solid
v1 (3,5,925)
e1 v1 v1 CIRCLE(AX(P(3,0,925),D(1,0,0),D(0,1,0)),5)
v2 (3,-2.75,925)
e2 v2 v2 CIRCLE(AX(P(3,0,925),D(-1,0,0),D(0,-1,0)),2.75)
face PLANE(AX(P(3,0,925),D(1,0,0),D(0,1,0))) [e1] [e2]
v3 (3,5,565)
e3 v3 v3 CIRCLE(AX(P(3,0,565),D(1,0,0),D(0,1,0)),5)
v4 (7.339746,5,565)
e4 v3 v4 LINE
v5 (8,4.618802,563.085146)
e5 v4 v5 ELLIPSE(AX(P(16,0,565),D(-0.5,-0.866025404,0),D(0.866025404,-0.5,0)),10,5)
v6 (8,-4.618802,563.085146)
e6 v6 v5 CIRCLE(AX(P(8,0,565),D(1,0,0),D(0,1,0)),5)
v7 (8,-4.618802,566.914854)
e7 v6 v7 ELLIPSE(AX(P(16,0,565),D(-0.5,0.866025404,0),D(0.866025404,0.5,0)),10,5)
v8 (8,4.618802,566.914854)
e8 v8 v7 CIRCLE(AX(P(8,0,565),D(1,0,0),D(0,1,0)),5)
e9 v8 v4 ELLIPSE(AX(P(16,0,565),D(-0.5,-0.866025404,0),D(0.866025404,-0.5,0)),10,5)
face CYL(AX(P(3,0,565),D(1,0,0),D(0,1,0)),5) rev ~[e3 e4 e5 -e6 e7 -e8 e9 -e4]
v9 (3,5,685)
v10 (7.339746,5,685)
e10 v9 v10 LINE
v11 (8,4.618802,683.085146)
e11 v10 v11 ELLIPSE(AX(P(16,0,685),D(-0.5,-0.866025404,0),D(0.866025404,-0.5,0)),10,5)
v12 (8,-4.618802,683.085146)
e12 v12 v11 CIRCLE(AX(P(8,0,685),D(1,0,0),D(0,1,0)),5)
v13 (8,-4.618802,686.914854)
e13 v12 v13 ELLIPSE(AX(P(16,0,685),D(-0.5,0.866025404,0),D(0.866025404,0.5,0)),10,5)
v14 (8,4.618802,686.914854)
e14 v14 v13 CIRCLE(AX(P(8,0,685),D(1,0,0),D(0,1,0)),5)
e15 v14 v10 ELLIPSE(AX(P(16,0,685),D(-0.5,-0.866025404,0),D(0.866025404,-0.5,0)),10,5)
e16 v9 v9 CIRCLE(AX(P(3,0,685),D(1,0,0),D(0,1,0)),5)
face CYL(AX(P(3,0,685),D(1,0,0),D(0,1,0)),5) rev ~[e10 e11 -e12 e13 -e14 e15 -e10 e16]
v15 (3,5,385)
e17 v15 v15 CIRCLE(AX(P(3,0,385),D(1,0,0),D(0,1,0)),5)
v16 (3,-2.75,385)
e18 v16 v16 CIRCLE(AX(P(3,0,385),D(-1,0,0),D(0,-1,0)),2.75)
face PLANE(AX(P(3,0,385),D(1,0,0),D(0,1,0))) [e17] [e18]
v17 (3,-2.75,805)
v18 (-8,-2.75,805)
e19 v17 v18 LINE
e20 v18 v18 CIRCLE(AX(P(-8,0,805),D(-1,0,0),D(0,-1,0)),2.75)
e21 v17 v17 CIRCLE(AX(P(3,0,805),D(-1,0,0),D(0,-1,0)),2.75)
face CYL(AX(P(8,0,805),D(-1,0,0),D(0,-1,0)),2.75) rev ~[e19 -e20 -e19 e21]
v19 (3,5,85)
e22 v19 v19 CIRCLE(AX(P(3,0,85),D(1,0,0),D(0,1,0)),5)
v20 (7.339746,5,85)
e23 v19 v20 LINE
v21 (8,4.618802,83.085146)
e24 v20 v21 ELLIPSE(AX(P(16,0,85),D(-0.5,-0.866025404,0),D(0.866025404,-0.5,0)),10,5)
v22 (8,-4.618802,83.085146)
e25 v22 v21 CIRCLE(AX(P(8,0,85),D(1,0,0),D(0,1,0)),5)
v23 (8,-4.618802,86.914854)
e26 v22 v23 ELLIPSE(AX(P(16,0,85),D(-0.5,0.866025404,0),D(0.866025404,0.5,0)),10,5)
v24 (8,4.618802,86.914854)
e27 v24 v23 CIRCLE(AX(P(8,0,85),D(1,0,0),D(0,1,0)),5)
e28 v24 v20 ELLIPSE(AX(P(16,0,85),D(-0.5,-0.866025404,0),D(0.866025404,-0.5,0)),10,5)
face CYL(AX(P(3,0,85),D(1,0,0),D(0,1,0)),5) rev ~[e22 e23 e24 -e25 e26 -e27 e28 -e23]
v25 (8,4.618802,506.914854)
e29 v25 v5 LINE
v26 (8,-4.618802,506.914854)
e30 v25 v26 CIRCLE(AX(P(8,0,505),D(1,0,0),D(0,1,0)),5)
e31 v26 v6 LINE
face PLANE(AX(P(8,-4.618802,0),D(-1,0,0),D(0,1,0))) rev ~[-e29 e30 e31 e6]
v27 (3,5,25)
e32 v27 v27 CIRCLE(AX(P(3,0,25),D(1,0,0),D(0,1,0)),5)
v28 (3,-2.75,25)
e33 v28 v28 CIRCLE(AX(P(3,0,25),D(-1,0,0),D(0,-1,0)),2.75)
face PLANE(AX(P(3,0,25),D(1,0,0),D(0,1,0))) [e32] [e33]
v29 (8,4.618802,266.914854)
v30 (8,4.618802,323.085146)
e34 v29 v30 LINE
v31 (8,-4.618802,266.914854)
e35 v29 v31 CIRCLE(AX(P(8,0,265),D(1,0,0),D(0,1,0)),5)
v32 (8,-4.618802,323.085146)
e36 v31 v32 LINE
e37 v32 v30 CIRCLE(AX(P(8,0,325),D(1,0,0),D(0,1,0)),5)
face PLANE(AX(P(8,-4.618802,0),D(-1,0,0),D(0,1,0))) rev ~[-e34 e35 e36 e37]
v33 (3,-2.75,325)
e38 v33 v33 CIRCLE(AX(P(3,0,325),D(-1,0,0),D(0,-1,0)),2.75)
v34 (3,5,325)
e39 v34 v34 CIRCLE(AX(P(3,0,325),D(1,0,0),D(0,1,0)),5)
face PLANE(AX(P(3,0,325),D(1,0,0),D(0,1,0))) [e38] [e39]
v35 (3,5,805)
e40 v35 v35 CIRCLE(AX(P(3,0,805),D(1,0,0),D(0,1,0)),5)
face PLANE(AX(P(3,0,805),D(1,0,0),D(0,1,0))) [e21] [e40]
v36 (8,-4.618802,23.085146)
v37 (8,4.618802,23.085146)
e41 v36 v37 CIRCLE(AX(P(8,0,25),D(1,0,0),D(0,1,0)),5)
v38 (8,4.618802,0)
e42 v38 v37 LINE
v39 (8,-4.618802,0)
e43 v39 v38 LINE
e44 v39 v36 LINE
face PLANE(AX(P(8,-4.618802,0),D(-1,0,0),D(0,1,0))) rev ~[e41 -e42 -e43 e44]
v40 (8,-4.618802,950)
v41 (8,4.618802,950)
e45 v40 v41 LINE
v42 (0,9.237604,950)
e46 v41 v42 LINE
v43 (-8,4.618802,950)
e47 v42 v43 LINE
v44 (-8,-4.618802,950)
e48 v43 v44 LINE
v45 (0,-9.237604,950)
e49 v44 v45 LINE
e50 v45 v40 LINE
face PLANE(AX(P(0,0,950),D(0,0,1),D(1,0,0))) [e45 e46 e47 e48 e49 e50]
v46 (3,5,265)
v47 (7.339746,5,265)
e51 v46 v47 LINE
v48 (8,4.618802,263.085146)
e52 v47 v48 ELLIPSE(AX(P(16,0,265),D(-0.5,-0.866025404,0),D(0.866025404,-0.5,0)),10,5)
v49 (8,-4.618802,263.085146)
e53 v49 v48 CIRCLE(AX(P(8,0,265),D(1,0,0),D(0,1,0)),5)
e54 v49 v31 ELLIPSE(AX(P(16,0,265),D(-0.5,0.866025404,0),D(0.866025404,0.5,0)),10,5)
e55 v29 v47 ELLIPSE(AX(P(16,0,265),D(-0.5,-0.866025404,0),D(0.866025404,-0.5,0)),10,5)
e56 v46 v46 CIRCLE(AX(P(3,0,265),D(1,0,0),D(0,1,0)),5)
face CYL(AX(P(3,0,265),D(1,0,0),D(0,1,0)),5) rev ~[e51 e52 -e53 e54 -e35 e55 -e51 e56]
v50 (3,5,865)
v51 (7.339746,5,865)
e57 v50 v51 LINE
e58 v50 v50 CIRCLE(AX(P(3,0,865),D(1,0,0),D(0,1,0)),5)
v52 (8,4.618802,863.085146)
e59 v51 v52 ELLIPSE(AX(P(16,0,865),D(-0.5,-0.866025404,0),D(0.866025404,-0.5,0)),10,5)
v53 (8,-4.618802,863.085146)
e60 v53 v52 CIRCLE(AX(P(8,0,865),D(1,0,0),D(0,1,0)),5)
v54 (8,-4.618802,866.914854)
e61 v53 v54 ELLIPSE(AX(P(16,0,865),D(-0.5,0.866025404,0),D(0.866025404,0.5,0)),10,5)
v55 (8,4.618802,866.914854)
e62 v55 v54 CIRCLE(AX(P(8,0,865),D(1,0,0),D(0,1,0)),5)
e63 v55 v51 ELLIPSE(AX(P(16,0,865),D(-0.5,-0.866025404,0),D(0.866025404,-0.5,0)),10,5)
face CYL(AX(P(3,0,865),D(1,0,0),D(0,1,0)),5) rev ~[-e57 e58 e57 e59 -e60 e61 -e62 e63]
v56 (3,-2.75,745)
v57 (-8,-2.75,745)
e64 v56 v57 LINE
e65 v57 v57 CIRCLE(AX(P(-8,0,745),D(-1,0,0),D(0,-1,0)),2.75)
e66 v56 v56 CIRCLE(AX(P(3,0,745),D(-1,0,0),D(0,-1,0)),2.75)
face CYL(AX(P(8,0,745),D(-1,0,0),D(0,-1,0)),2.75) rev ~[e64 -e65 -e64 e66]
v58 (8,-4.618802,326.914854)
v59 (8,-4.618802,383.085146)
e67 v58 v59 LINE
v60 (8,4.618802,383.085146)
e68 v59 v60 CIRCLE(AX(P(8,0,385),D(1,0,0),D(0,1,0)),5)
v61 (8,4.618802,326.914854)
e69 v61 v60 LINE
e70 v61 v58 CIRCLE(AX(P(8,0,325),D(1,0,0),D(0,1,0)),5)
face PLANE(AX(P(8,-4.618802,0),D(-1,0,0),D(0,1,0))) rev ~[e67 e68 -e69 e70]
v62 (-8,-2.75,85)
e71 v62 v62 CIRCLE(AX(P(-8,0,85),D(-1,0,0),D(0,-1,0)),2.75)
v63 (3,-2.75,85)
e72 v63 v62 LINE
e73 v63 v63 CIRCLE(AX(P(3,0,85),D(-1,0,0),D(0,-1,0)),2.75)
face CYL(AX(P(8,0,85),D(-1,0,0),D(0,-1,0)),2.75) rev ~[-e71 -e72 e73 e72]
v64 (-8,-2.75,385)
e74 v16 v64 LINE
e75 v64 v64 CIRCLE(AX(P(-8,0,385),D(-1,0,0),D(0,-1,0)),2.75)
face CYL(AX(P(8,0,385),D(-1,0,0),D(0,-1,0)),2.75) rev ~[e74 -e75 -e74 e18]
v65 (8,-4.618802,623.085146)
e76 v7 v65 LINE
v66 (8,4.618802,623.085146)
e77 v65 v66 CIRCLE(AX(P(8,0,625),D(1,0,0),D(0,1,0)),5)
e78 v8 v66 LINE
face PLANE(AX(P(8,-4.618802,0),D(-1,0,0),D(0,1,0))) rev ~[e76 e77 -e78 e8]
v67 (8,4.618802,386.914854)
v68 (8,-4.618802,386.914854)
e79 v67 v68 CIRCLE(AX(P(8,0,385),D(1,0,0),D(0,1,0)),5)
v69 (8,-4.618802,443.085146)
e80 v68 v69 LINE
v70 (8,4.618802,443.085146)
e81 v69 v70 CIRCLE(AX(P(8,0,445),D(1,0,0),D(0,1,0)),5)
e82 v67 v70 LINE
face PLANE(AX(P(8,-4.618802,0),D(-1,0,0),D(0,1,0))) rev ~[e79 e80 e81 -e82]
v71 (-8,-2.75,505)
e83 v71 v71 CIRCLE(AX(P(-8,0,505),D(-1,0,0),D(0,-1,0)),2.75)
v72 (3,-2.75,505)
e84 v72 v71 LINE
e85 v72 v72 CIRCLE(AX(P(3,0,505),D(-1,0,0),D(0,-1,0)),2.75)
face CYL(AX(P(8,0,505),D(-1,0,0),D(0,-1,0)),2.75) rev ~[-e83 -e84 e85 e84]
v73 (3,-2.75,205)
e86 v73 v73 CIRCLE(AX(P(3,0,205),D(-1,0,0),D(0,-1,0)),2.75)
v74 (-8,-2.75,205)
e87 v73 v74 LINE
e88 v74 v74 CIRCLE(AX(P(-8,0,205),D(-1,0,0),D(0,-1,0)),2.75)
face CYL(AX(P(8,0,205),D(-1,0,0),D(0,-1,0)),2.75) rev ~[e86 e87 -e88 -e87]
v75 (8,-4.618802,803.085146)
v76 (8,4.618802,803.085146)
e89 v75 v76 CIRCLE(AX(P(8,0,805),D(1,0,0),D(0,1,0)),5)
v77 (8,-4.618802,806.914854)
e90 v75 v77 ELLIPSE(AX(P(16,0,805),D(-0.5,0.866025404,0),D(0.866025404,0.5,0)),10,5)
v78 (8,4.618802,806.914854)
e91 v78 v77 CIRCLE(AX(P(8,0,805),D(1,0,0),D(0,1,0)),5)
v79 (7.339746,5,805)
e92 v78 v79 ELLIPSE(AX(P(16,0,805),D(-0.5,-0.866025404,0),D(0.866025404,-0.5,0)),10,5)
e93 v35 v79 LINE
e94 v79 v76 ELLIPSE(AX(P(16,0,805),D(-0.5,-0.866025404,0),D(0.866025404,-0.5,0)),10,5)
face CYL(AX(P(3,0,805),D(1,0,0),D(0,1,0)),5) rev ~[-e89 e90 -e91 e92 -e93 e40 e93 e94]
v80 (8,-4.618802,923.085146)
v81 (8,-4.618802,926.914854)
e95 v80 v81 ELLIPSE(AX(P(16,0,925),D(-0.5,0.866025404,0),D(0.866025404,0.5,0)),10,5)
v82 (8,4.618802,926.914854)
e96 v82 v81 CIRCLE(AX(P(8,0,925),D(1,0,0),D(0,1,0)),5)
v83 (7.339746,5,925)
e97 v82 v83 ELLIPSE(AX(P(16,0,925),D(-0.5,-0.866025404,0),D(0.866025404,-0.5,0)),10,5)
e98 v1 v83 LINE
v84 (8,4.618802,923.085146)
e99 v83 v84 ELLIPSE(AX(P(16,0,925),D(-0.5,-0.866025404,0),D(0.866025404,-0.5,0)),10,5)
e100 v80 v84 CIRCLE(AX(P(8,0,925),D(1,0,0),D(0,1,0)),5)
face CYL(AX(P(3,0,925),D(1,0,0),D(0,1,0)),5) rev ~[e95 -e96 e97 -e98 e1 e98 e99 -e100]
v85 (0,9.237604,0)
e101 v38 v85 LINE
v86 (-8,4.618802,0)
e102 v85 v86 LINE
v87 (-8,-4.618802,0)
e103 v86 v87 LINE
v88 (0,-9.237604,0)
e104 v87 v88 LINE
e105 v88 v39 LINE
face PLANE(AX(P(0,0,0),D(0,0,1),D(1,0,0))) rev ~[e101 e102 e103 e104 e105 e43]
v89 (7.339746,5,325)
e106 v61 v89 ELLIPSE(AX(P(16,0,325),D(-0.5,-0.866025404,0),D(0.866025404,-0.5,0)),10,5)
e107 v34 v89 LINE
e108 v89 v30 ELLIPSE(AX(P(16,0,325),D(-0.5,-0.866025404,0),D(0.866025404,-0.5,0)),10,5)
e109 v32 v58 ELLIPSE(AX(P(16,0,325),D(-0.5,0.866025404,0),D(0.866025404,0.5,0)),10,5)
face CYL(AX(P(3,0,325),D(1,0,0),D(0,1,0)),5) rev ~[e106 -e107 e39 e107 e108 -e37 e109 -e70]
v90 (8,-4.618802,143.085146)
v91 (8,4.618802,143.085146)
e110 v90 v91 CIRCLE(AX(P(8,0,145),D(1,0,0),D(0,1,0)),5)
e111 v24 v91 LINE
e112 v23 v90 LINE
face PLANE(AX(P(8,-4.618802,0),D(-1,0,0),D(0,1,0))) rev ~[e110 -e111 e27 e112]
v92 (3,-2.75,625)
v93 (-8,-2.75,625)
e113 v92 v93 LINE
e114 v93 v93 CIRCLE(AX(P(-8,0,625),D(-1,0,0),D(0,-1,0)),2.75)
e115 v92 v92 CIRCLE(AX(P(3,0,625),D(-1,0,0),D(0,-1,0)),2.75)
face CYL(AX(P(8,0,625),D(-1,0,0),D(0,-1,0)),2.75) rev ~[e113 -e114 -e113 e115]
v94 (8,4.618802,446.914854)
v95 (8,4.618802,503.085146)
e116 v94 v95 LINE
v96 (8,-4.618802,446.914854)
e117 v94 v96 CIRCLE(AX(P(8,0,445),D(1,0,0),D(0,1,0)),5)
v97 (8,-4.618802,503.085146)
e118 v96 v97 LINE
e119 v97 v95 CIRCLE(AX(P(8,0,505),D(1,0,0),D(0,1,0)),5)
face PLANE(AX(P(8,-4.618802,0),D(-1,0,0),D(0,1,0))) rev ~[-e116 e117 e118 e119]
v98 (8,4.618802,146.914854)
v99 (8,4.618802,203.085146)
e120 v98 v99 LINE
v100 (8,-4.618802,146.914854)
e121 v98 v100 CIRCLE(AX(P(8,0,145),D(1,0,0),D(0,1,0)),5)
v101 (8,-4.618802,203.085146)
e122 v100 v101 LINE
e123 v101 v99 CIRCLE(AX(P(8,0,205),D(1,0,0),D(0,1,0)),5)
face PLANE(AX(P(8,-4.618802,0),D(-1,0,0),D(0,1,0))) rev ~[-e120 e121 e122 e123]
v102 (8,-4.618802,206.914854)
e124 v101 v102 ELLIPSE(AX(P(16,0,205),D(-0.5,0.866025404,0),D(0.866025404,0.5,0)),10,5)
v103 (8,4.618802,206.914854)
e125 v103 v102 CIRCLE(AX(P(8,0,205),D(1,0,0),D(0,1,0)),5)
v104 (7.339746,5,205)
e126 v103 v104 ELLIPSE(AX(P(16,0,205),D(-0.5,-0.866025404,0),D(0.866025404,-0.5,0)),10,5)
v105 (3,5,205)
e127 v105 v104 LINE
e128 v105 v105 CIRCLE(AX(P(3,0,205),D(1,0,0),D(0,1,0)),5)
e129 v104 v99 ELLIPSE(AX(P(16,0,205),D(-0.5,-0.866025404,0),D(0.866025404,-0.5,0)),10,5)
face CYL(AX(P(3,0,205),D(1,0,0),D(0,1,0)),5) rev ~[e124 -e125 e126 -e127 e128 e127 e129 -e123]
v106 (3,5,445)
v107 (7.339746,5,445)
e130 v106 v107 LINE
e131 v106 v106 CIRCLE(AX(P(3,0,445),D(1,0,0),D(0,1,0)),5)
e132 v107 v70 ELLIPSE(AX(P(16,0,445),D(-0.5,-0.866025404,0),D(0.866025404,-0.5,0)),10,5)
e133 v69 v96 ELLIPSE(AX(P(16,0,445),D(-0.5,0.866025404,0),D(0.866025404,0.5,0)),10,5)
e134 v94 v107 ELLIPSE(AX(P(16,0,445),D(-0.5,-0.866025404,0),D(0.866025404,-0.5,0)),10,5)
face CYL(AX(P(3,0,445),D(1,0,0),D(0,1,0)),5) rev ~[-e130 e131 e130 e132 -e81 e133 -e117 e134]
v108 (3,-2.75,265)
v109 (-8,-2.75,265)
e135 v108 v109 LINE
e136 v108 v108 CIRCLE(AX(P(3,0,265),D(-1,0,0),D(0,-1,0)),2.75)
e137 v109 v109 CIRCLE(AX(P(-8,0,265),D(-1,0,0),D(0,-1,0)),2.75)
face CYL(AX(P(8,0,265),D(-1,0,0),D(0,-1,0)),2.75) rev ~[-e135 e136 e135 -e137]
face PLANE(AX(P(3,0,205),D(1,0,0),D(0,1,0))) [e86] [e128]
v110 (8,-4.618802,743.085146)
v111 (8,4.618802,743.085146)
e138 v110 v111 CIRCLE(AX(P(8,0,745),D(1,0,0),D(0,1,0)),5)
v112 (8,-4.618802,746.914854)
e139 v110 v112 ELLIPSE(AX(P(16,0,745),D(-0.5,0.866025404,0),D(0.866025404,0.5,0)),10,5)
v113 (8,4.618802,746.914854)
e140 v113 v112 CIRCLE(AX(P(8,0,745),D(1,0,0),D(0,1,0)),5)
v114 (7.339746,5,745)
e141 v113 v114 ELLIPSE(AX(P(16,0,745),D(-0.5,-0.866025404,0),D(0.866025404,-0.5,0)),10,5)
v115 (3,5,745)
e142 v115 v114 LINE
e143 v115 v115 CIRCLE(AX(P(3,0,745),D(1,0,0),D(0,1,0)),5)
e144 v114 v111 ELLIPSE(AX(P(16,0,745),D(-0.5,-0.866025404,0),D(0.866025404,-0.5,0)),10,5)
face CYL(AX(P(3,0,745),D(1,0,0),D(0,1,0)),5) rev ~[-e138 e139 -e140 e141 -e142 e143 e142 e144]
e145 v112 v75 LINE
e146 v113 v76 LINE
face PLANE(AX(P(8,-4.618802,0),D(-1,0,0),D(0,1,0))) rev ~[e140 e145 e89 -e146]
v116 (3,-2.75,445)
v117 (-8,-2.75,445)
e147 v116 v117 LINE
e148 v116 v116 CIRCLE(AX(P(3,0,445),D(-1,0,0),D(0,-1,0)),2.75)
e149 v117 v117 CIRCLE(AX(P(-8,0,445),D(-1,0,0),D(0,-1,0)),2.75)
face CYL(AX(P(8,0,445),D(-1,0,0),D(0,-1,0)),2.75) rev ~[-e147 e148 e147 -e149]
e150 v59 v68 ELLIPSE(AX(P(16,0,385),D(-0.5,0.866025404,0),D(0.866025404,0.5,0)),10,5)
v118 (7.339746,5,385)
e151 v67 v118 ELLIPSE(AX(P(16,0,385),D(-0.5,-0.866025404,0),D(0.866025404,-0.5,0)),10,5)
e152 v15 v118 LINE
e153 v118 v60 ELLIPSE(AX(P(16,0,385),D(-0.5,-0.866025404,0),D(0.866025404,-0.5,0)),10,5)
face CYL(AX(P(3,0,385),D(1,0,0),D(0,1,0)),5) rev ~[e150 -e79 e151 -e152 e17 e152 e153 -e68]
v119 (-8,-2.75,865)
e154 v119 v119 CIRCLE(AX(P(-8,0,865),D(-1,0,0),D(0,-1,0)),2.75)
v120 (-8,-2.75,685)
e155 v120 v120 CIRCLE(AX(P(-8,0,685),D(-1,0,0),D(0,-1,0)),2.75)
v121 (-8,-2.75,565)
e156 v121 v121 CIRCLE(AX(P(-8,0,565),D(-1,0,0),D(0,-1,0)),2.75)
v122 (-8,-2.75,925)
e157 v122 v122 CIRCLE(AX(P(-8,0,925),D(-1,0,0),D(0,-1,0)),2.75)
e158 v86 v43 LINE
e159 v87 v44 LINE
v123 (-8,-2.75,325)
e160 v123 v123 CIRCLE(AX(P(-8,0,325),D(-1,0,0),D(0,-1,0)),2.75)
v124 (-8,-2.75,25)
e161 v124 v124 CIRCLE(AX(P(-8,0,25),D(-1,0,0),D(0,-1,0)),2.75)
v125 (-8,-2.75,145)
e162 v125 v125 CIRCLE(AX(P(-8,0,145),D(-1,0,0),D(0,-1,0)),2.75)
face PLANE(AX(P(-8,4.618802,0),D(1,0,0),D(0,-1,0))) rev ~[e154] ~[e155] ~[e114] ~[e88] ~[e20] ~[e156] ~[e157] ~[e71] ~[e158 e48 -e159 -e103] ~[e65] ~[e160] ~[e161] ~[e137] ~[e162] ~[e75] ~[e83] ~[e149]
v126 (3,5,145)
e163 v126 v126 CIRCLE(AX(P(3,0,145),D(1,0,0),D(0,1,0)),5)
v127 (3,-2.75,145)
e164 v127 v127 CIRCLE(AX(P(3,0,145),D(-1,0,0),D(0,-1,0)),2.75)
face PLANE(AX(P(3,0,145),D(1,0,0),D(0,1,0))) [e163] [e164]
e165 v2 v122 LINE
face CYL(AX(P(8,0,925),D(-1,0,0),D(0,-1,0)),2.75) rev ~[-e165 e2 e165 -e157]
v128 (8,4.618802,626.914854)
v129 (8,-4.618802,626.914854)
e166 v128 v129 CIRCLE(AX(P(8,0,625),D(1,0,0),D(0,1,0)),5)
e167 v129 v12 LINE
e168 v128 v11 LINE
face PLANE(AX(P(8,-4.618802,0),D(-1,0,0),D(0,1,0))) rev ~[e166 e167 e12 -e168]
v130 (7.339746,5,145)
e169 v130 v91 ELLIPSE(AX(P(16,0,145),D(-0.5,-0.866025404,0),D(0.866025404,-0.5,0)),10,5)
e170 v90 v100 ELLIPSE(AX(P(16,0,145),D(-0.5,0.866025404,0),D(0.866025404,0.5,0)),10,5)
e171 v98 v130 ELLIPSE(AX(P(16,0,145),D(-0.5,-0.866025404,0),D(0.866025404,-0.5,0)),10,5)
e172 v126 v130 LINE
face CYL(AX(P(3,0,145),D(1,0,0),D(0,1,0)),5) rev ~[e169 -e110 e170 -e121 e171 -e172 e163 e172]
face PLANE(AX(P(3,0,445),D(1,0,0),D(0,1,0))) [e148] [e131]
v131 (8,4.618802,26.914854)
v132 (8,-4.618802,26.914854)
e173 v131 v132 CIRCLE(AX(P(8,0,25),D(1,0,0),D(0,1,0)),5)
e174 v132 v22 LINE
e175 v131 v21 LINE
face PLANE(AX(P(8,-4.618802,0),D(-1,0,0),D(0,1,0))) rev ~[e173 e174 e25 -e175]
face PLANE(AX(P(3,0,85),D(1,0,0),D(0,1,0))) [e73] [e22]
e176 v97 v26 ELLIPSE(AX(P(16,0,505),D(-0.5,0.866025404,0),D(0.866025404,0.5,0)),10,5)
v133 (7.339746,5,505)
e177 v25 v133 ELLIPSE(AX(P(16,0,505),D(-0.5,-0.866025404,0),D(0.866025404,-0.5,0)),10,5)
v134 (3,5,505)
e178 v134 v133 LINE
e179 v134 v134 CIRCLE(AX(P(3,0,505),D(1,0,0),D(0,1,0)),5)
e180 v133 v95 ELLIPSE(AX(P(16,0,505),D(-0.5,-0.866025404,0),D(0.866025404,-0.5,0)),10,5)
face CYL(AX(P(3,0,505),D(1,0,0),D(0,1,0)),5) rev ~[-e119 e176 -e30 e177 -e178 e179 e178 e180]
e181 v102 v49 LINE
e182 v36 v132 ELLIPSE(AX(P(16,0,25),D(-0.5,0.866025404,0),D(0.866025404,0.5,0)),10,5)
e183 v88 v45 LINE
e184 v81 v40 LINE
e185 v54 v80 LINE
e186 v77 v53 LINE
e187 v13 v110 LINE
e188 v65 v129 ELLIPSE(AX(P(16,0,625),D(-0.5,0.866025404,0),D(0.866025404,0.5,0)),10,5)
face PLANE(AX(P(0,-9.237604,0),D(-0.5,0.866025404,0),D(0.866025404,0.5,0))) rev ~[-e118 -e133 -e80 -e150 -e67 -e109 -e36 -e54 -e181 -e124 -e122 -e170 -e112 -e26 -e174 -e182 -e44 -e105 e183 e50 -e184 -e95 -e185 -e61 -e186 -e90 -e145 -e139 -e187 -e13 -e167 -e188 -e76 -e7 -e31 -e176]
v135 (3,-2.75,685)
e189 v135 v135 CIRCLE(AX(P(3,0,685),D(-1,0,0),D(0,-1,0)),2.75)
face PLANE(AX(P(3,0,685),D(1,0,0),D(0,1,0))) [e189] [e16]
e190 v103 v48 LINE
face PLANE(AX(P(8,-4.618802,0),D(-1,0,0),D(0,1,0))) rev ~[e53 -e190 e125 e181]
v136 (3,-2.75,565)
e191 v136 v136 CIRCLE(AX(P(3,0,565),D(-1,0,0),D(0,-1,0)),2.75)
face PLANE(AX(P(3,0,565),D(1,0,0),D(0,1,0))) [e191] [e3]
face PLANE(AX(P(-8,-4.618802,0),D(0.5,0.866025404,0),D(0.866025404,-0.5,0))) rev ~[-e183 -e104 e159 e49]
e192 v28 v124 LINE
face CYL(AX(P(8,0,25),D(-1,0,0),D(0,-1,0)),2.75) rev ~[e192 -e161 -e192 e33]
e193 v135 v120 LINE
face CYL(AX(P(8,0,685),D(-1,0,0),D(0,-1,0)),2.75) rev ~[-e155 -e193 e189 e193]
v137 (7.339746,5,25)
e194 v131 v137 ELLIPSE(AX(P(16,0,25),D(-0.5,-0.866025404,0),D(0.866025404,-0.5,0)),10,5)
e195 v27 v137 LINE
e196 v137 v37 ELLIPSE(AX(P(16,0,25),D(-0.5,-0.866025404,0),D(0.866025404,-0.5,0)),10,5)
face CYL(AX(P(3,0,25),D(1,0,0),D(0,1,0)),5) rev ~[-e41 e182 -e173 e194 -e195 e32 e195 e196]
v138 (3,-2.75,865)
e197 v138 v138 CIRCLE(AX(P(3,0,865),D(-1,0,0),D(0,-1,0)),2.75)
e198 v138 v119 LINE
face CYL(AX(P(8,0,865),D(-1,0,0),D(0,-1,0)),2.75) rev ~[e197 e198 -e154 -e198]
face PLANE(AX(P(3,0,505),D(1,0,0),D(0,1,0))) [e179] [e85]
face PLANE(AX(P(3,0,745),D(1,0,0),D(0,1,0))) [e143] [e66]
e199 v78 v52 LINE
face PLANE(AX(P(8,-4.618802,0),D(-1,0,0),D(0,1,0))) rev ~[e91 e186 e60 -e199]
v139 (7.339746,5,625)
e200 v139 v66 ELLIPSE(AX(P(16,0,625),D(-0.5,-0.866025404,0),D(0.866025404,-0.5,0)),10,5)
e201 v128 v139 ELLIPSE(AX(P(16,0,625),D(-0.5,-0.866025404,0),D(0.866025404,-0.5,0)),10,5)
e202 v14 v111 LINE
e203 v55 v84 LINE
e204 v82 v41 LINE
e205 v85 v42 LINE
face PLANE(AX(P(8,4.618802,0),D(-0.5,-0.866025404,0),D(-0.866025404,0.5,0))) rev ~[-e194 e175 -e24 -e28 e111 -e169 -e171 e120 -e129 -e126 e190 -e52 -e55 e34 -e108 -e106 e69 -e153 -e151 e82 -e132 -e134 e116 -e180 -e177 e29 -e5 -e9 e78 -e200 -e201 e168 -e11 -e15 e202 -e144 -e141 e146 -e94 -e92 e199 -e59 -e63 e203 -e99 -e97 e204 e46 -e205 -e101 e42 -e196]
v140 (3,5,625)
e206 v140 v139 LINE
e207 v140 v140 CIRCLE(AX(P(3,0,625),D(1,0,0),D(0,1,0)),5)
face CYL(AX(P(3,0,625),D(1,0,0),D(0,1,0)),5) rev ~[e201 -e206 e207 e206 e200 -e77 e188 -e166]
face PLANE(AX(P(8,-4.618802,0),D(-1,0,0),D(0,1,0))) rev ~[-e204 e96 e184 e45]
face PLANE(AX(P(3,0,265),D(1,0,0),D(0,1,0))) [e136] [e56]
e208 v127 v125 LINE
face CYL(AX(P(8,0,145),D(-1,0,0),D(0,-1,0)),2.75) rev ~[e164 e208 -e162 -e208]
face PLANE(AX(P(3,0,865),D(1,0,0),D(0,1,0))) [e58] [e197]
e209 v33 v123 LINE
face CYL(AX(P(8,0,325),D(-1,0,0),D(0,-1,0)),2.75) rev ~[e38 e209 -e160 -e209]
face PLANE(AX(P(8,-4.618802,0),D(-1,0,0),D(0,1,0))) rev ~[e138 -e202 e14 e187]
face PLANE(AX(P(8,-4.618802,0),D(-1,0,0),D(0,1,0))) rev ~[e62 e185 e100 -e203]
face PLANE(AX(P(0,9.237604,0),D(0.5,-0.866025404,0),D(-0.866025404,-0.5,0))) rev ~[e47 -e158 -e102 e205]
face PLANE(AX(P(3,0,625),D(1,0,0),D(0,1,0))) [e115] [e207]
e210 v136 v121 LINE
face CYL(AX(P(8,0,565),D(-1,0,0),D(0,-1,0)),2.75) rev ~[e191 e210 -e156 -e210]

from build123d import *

# Parameters (mm, degrees)
BOSS_EXTRUDE1_DEPTH                             = 950
CBORE_FOR_M5_SOCKET_HEAD_CAP_SCREW2_D           = 5.5
CBORE_FOR_M5_SOCKET_HEAD_CAP_SCREW2_CBORE_D     = 10
CBORE_FOR_M5_SOCKET_HEAD_CAP_SCREW2_CBORE_DEPTH = 5
LPATTERN1_COUNT                                 = 16
LPATTERN1_PITCH                                 = 60


with BuildPart() as part:
    # Sketch1 → Boss-Extrude1 (new body)
    with BuildSketch(Plane.XY):
        Polygon((0, -9.237604307), (8, -4.618802154), (8, 4.618802154), (0, 9.237604307), (-8, 4.618802154), (-8, -4.618802154), align=None)
    extrude(amount=BOSS_EXTRUDE1_DEPTH)

    # CBORE for M5 Socket Head Cap Screw2 (through all)
    with Locations(Plane(origin=(8, 0, 925), x_dir=(0, 1, 0), z_dir=(1, 0, 0))):
        with Locations((0, 0)):
            cbore_for_m5_socket_head_cap_screw2 = CounterBoreHole(CBORE_FOR_M5_SOCKET_HEAD_CAP_SCREW2_D / 2, CBORE_FOR_M5_SOCKET_HEAD_CAP_SCREW2_CBORE_D / 2, CBORE_FOR_M5_SOCKET_HEAD_CAP_SCREW2_CBORE_DEPTH)

    # LPattern1: CBORE for M5 Socket Head Cap Screw2 ×16
    with Locations(*[(0, 0, -i * LPATTERN1_PITCH) for i in range(1, LPATTERN1_COUNT)]):
        add(cbore_for_m5_socket_head_cap_screw2, mode=Mode.SUBTRACT)


solid = part.part
